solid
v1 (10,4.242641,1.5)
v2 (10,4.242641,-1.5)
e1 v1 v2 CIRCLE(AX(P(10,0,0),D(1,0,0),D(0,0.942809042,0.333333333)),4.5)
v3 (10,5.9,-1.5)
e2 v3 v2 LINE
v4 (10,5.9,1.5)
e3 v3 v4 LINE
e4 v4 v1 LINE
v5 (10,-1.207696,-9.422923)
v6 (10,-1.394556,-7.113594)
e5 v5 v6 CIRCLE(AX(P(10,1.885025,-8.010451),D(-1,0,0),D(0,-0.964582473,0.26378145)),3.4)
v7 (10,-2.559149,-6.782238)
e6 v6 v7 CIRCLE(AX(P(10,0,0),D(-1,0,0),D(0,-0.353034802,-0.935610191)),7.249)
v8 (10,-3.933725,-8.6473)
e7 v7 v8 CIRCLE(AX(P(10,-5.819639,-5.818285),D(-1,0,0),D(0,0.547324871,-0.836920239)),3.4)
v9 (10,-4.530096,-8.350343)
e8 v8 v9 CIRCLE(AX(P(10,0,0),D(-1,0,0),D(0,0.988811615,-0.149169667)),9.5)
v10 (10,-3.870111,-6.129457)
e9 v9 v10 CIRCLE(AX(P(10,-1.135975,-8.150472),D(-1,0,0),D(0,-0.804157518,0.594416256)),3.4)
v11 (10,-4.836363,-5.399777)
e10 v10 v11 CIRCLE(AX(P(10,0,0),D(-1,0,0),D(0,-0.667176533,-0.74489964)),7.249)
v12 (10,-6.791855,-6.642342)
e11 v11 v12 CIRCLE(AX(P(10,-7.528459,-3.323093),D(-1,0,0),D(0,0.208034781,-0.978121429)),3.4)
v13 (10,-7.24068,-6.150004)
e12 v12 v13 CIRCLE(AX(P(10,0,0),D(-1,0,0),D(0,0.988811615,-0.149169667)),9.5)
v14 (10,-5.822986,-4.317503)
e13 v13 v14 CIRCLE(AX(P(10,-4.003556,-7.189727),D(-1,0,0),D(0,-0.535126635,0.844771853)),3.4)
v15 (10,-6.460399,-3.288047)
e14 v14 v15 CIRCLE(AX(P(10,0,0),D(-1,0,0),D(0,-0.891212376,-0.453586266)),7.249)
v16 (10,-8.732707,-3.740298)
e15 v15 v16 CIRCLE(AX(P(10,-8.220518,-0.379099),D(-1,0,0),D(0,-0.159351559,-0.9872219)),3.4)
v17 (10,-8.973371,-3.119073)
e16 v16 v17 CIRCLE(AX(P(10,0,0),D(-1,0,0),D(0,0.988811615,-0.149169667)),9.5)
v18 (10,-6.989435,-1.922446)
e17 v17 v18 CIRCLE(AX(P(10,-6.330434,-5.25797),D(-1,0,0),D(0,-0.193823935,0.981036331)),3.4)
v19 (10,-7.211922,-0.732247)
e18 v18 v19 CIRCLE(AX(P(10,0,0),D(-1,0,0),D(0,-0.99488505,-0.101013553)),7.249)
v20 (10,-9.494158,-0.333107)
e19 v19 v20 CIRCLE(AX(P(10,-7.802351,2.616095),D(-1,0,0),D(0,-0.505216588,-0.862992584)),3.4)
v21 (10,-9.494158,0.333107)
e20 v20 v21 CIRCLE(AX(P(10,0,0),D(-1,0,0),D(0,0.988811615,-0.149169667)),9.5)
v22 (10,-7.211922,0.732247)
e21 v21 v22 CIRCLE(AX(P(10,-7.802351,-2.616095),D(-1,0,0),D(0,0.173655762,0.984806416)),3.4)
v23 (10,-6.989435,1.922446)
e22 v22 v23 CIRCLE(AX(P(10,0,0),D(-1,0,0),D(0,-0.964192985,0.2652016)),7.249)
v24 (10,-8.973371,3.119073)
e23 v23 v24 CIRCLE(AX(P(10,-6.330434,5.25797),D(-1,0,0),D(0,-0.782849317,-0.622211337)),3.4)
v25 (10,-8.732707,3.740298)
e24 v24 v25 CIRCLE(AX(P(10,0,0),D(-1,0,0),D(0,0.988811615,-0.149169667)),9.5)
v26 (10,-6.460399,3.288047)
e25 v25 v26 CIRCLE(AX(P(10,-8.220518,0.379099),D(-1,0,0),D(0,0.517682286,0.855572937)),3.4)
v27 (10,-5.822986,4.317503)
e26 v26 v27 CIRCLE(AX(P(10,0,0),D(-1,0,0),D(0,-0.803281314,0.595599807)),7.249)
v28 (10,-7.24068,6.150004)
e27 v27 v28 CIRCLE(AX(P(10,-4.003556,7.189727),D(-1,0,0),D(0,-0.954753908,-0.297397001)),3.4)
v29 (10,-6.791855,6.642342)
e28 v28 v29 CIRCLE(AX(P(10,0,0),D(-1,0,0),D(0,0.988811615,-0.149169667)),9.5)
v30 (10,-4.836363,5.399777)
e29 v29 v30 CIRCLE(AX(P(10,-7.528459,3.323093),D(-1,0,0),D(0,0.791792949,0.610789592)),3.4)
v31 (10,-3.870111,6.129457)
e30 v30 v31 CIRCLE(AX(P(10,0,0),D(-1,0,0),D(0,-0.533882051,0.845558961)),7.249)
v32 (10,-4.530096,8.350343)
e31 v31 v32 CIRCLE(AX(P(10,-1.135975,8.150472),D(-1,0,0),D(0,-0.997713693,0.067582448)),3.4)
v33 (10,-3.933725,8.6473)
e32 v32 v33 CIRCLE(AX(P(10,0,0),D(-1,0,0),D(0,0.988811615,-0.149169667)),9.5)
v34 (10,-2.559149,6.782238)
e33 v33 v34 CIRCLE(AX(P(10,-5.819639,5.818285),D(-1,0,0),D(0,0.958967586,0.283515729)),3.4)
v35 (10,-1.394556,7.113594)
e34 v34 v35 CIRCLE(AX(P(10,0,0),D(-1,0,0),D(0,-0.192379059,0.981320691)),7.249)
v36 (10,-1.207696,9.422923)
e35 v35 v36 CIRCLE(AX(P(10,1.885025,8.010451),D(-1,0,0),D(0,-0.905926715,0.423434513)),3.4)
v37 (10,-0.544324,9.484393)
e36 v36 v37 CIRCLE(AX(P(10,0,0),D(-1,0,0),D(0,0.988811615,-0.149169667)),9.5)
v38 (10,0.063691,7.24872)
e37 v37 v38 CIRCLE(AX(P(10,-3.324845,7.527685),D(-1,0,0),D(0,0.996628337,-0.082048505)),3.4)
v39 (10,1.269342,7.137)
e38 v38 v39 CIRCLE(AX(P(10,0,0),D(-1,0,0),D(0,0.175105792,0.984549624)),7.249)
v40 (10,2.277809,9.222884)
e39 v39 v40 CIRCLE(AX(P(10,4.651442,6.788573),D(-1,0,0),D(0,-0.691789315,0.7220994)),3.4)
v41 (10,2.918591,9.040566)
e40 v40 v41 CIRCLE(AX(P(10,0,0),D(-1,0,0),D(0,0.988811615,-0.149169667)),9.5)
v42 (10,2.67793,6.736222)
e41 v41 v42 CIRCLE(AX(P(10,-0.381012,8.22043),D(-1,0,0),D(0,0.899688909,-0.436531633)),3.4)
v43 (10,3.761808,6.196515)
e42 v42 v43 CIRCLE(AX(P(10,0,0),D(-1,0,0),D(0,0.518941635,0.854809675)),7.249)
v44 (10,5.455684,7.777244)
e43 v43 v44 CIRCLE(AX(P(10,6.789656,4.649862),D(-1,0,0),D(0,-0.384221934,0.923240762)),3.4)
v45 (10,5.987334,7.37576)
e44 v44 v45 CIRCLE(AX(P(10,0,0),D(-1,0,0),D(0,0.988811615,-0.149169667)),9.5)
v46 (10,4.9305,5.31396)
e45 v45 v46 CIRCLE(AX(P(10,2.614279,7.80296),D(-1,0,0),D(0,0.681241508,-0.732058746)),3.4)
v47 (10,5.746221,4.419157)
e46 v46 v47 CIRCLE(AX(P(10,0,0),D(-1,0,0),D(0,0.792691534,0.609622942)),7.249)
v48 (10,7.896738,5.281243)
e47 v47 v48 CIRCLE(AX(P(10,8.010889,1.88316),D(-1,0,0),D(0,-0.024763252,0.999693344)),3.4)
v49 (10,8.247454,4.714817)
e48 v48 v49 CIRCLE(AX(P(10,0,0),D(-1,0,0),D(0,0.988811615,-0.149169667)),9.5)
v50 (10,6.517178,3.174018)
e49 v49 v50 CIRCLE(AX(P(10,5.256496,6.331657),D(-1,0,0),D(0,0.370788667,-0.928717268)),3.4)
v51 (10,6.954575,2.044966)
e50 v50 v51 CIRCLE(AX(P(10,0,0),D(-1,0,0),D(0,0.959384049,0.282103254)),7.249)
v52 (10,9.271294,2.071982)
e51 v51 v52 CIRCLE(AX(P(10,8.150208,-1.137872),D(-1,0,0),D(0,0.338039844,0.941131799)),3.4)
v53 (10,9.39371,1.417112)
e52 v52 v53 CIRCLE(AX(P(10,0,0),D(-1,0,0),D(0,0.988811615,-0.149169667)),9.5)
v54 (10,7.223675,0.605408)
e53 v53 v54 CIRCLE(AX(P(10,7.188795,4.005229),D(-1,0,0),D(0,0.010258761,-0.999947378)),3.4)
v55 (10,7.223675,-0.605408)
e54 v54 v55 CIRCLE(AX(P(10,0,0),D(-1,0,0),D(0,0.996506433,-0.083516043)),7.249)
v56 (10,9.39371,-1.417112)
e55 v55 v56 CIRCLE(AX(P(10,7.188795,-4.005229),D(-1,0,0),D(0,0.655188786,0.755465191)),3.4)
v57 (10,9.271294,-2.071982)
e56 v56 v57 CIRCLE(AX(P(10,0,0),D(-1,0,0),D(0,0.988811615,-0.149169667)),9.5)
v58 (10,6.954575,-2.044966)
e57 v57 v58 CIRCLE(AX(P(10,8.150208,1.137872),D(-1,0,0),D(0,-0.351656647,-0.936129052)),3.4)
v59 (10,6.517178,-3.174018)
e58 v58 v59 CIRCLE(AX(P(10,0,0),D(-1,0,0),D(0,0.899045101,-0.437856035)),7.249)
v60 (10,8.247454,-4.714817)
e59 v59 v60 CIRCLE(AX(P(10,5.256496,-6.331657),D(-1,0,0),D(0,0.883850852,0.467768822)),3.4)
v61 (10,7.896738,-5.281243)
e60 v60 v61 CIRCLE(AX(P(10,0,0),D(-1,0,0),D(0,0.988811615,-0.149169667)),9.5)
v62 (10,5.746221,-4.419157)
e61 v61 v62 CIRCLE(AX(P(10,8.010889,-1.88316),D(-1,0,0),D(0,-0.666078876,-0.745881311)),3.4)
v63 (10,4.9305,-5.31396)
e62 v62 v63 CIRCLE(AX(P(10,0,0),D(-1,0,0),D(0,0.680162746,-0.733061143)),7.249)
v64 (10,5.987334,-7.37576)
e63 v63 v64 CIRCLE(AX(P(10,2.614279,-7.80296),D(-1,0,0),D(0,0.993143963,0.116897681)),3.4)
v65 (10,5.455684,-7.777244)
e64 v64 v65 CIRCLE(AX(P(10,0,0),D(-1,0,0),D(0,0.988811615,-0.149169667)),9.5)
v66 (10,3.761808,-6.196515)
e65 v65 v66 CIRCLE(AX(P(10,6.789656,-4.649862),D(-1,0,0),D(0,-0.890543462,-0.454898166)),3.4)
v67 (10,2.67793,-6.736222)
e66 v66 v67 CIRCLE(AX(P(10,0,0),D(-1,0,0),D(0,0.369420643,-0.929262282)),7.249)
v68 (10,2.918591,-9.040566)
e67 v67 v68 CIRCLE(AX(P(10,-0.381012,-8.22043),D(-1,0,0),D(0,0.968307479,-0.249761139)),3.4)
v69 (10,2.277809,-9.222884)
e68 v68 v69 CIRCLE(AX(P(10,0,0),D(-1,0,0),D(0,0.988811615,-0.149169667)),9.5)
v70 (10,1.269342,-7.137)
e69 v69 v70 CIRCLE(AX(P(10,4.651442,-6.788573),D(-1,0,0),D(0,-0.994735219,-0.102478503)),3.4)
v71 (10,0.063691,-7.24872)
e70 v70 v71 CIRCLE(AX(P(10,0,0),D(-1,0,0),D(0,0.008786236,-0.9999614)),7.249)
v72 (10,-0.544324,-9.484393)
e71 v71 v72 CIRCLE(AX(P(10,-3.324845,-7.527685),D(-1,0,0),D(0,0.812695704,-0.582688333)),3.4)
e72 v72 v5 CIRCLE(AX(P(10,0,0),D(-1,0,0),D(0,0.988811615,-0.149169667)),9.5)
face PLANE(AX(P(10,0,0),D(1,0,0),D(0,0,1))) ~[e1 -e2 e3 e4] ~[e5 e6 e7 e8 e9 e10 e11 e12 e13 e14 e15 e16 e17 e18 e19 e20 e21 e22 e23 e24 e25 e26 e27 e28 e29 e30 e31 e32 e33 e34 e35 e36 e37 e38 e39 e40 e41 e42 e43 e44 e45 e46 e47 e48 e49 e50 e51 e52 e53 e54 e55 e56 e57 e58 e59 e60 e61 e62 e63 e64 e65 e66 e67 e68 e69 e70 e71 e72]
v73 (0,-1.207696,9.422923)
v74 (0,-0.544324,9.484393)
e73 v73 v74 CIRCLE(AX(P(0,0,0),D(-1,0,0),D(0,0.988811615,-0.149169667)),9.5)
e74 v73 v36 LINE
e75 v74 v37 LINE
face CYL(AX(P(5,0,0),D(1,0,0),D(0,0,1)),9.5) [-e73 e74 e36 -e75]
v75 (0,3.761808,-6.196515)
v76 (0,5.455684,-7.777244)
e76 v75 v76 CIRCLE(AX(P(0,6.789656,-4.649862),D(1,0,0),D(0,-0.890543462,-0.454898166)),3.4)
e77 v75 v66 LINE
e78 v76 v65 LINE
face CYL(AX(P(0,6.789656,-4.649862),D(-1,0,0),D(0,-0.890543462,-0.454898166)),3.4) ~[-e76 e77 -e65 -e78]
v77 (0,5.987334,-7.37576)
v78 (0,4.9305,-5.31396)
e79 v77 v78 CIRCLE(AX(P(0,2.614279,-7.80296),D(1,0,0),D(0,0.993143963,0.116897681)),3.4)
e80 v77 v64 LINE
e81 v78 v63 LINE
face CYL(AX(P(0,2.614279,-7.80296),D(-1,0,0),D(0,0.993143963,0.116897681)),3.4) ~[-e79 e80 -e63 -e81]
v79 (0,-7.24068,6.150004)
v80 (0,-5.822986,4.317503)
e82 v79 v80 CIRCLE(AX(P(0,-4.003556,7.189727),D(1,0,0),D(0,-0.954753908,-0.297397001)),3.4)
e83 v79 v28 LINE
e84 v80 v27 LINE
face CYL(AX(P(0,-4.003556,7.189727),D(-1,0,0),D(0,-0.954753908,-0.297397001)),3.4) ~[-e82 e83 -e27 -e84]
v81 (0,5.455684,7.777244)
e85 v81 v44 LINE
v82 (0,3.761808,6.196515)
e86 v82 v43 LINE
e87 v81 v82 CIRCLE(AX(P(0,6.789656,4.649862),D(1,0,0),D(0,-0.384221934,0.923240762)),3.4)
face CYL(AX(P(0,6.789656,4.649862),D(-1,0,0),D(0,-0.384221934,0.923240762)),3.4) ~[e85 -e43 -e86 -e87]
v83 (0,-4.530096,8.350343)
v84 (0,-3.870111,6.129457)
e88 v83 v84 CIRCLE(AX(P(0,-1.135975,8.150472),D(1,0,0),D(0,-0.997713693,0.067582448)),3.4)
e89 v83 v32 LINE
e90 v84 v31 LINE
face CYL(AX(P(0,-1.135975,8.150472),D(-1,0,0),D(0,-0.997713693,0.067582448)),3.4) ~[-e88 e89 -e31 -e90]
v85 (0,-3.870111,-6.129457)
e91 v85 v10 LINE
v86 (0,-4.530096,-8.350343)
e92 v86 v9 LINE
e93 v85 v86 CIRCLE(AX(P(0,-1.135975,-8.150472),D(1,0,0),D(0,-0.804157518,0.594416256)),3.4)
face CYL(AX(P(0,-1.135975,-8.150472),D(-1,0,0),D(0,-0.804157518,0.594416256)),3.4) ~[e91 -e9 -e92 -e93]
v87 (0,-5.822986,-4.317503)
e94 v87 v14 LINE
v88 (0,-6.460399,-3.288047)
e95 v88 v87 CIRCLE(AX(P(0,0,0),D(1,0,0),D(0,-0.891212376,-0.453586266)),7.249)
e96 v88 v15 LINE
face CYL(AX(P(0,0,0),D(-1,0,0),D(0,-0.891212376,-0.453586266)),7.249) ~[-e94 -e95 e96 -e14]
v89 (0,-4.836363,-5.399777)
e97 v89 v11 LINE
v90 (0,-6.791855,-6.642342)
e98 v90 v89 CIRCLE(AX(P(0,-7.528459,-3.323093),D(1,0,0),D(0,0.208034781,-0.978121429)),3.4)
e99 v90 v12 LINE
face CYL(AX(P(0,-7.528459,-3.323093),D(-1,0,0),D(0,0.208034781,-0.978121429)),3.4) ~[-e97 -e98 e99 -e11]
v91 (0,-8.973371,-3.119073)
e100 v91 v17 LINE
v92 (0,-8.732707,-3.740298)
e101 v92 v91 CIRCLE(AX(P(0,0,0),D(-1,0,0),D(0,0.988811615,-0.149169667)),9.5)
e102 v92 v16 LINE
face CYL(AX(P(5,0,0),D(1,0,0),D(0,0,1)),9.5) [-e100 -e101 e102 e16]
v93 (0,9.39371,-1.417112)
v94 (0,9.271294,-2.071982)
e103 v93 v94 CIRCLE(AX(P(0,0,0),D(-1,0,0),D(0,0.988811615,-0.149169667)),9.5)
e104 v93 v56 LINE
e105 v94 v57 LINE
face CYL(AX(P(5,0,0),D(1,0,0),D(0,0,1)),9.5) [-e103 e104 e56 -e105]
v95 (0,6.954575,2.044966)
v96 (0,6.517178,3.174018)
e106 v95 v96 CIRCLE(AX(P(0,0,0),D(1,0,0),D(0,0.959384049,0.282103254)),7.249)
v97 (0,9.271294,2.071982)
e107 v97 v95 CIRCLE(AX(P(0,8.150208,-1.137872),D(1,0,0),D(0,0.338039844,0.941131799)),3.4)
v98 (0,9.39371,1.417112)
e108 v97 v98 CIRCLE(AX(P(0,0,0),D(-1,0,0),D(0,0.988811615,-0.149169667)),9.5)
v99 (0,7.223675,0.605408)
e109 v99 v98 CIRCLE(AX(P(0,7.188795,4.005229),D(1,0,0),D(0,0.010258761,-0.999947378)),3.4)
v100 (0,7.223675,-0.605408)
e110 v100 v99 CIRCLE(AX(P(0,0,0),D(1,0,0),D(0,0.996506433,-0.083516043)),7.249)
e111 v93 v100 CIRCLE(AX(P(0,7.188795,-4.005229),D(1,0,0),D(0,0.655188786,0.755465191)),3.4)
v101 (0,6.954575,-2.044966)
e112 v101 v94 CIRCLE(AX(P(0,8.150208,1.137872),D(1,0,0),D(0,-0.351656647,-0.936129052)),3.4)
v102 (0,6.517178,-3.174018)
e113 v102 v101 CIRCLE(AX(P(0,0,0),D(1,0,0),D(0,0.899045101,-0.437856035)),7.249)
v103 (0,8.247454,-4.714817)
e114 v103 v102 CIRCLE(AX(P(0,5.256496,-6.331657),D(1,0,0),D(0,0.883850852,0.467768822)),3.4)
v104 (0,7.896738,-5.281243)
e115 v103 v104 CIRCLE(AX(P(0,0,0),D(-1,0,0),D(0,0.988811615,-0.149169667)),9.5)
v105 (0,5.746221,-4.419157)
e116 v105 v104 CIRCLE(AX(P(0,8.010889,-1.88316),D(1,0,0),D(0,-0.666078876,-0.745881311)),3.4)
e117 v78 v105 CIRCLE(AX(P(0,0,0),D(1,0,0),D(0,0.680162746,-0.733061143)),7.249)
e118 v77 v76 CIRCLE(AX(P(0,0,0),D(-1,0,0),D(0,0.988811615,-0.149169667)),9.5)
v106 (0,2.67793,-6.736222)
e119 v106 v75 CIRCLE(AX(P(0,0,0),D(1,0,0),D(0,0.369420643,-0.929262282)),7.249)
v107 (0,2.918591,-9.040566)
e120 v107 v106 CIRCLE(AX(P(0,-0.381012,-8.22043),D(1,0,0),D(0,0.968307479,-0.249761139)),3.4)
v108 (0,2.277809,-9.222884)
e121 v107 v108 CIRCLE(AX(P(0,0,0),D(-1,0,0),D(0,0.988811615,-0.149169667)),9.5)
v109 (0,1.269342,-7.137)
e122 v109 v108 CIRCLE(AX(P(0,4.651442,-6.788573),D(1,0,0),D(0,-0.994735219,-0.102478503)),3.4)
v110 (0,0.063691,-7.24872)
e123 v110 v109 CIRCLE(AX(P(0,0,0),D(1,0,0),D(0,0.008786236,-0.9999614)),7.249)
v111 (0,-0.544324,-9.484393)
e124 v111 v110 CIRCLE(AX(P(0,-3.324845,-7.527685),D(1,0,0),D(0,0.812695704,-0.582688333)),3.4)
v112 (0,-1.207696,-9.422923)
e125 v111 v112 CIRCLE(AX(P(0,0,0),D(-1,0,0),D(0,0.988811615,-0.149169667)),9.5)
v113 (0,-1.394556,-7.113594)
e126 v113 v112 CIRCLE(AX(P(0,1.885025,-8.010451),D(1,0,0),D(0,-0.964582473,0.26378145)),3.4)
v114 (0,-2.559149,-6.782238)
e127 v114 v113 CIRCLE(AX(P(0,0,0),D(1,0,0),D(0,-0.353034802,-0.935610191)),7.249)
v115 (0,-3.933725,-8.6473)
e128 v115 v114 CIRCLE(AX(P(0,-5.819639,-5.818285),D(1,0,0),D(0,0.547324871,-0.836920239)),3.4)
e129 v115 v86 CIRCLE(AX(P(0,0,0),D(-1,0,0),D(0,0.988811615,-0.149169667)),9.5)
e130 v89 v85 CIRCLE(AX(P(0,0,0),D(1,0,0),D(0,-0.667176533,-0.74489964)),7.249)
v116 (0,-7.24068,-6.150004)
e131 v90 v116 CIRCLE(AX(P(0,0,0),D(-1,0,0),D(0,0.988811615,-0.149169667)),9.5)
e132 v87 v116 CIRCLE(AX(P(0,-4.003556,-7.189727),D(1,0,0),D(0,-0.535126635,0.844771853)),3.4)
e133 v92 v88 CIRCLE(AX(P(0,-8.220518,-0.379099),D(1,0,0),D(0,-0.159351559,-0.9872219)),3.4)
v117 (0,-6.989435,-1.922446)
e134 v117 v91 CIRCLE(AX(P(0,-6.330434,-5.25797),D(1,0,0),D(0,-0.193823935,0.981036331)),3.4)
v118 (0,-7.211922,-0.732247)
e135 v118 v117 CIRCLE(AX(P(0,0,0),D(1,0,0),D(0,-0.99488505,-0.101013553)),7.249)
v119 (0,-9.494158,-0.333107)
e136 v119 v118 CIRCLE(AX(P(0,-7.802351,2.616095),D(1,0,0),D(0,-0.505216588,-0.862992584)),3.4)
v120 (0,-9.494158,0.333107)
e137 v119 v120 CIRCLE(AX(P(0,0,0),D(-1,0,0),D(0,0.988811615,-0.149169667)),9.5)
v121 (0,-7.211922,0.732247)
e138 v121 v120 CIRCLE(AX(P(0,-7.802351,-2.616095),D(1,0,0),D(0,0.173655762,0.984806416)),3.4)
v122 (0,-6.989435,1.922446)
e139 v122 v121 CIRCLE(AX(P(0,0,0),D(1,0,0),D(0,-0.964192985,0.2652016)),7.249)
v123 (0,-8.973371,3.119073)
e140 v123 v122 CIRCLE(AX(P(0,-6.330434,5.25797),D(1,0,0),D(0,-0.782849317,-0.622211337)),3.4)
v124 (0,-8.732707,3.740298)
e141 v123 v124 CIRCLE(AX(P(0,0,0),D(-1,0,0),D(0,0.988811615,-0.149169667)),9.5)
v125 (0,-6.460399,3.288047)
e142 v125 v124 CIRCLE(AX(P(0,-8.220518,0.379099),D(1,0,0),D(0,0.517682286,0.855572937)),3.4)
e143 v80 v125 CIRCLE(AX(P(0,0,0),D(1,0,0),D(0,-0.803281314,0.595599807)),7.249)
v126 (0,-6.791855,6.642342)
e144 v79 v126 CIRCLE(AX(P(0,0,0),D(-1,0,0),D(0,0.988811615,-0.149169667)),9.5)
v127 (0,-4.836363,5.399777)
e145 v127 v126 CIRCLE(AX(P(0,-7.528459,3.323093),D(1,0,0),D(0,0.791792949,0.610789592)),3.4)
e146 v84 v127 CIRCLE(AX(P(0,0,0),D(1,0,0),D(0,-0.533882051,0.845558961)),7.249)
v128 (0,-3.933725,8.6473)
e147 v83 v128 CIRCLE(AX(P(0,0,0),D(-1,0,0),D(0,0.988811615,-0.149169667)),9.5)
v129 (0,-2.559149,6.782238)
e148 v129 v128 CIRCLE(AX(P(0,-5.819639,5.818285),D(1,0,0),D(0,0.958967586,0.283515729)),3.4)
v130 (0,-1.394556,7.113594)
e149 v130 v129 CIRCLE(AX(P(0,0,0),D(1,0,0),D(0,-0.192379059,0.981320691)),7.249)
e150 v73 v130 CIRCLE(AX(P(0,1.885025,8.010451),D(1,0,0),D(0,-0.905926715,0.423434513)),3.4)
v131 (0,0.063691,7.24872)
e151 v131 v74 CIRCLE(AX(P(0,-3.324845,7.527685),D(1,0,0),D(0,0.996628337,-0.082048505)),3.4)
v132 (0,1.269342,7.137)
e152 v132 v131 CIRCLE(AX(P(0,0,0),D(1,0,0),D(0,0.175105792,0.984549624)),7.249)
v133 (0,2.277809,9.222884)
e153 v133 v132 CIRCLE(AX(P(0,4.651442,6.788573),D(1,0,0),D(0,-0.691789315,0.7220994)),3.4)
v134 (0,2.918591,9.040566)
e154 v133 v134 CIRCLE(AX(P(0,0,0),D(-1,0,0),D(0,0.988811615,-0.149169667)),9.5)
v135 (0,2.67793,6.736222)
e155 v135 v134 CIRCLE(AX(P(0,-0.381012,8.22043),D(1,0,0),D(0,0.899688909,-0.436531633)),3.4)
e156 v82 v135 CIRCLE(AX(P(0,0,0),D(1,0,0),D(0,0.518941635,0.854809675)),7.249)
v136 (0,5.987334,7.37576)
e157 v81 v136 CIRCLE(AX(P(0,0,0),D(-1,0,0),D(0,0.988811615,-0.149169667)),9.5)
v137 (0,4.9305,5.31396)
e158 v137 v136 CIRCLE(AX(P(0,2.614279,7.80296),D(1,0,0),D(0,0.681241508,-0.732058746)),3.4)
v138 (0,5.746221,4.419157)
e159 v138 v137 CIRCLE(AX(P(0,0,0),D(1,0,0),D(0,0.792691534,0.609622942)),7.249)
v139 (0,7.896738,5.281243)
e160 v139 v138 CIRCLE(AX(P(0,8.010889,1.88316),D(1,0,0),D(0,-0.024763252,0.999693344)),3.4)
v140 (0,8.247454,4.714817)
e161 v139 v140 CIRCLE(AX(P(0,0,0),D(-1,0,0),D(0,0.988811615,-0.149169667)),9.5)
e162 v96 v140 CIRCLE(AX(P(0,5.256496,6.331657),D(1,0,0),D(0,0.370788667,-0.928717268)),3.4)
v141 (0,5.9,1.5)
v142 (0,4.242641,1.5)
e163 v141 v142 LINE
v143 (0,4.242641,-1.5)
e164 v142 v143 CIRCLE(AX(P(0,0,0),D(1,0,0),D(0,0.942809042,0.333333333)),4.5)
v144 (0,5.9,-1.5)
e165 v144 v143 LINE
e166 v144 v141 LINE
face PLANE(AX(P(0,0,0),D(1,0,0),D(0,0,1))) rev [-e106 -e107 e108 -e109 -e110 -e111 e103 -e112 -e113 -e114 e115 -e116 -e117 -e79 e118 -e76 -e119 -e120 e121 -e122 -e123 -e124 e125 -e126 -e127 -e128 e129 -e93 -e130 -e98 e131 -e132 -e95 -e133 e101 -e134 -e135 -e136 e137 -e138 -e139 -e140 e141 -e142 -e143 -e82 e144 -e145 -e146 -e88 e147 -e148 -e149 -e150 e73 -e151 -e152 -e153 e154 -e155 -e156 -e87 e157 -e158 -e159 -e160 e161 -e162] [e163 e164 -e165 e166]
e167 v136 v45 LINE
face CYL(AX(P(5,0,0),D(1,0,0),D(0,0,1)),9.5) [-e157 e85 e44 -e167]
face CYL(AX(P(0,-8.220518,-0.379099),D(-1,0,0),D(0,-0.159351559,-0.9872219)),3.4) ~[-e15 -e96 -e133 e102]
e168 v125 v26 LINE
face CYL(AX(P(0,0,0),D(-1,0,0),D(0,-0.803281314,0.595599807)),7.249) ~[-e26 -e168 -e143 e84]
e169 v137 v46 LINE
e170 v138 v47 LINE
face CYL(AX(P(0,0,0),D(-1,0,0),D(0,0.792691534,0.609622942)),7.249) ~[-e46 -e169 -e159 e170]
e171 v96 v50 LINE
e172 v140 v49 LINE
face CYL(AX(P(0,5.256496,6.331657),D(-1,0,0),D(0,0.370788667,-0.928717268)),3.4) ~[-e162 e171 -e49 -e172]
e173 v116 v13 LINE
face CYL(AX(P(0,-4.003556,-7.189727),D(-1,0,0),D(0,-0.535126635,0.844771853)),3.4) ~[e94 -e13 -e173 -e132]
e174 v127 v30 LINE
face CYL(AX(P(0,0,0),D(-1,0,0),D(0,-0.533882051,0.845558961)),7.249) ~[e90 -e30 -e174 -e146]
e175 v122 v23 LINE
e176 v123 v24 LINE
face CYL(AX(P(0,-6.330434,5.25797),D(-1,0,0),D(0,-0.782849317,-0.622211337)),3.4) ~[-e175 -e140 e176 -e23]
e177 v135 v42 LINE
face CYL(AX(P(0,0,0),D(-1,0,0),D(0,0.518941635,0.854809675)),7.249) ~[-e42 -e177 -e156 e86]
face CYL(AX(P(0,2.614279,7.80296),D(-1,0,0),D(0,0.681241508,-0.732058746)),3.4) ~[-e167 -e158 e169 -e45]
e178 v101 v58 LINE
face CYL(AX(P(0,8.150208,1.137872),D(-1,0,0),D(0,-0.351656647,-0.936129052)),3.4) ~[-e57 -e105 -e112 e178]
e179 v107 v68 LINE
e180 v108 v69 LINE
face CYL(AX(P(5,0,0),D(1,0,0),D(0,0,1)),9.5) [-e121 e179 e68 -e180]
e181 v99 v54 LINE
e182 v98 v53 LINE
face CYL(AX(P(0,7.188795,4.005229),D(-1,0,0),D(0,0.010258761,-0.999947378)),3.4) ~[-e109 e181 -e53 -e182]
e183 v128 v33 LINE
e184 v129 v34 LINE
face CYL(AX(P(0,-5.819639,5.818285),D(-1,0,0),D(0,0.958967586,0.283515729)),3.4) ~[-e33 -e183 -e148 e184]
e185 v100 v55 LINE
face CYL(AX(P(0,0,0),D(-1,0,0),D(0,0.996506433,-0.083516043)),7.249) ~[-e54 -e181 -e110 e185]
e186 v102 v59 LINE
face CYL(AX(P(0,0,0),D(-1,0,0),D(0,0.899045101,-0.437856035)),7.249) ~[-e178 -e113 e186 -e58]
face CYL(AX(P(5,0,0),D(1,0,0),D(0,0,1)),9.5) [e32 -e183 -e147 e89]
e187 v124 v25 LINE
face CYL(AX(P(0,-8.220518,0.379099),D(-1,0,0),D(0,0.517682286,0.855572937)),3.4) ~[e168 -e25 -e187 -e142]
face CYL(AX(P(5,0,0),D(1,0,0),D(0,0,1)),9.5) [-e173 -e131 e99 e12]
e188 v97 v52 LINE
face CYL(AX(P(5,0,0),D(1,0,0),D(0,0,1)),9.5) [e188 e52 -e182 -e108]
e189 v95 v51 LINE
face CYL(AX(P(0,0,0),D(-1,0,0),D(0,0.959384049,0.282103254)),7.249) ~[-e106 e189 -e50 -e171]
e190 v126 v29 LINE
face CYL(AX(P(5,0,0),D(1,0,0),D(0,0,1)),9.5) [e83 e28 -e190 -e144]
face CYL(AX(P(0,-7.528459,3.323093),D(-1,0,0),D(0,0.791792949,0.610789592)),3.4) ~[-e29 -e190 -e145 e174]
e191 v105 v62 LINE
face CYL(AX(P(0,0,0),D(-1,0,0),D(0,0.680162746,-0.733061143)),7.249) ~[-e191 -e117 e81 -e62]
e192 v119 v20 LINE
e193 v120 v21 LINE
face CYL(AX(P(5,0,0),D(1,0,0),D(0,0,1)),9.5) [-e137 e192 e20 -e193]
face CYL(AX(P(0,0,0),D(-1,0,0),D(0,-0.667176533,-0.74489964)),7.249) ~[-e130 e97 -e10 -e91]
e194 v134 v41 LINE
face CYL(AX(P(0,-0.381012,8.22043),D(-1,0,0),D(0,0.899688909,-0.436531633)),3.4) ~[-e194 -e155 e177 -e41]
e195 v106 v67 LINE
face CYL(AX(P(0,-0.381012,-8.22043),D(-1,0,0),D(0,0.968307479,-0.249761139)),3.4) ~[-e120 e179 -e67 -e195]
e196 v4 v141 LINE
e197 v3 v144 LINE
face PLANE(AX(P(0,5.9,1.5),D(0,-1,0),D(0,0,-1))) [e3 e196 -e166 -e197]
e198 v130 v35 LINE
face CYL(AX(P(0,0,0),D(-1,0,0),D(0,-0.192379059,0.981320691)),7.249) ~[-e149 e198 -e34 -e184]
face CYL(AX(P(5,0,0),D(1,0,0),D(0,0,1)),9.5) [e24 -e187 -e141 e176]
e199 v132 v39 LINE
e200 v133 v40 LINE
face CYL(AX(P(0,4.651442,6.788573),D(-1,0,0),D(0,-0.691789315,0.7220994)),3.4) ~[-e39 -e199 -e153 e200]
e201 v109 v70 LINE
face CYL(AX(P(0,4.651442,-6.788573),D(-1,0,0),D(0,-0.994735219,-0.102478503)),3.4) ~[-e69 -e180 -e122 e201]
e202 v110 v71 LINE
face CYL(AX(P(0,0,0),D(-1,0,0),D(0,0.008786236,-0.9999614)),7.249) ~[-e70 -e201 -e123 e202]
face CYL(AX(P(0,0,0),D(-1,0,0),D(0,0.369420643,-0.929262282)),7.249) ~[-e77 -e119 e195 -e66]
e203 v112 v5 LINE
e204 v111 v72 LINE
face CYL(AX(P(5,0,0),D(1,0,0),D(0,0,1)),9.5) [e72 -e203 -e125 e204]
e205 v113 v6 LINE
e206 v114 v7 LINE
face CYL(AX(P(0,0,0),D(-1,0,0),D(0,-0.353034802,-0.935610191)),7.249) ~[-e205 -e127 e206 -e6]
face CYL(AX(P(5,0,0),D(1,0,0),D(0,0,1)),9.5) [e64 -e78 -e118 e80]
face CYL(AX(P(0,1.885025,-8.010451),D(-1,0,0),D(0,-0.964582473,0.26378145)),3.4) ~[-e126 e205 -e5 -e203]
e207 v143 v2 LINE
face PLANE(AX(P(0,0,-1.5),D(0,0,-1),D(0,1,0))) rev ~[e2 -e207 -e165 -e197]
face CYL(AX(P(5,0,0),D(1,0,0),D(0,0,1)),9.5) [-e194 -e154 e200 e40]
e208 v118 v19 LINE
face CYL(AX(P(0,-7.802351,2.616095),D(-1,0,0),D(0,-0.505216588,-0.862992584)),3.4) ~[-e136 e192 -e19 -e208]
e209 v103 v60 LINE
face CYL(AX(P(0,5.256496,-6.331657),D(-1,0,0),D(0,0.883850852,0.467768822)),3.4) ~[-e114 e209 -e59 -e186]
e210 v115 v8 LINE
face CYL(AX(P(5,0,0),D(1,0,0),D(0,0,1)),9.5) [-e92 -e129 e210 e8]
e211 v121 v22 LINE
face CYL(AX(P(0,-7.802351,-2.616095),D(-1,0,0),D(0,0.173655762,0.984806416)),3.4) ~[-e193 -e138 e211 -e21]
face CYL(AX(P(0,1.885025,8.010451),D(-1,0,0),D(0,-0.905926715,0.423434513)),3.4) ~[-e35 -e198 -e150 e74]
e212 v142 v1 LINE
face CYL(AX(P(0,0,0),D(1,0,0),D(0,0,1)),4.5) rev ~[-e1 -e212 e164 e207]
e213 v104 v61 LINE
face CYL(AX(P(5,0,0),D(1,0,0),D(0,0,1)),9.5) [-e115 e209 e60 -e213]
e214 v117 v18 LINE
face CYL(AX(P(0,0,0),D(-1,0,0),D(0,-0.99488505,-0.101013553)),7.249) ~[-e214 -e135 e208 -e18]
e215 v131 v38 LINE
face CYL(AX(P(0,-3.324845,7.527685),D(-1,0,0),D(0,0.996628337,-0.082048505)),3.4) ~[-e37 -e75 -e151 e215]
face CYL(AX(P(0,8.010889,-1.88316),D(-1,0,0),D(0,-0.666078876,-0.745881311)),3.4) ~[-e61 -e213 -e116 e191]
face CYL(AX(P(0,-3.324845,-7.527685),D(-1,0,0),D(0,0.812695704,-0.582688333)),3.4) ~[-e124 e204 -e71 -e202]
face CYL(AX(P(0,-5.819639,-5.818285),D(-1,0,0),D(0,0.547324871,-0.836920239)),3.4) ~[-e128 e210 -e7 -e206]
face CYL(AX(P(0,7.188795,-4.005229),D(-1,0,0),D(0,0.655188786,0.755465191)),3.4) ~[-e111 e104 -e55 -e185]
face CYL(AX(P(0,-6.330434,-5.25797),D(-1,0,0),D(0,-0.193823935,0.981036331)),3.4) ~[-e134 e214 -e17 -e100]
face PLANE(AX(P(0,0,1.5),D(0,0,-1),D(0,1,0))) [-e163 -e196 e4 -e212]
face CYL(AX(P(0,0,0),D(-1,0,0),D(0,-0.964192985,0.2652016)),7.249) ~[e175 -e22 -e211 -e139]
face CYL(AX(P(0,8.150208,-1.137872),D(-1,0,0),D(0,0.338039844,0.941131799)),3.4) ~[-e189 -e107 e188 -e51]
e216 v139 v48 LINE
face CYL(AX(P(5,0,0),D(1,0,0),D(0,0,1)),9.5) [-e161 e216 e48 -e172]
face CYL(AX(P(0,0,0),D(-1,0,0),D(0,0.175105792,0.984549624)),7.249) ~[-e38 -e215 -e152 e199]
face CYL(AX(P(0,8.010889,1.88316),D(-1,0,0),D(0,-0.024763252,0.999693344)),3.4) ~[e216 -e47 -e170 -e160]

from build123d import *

# Parameters (mm, degrees)
BASPROSKE_W     = 10
BASPROSKE_H     = 9.5
TOOTHCUT_DEPTH  = 17.748134224
TEETHCUTS_COUNT = 17
TEETHCUTS_ANGLE = 338.823529412
BORSKE_R        = 4.5
BORE_DEPTH      = 50.0000508
KEYSKE_W        = 3
KEYSKE_H        = 5.9
KEYWAY_DEPTH    = 50.0000508


with BuildPart() as part:
    # BasProSke → Base-Revolve (revolve)
    with BuildSketch(Plane(origin=(0, 0, 0), x_dir=(1, 0, 0), z_dir=(0, 1, 0)), mode=Mode.PRIVATE) as base_revolve_sk:
        with Locations((5, 4.75)):
            Rectangle(BASPROSKE_W, BASPROSKE_H)
    revolve(base_revolve_sk.sketch.rotate(Axis((-10, 0, 0), (1, 0, 0)), 180), axis=Axis((-10, 0, 0), (1, 0, 0)))

    # TooCutSke → ToothCut (cut, through all)
    with BuildSketch(Plane(origin=(0, 0, 0), x_dir=(0, 0, -1), z_dir=(1, 0, 0))):
        with BuildLine():
            ThreePointArc((0.605407802, 7.223675131), (0, 7.249), (-0.605407802, 7.223675131))
            ThreePointArc((-0.605407802, 7.223675131), (-0.825997975, 8.393988613), (-1.436647238, 9.416437218))
            ThreePointArc((-1.436647238, 9.416437218), (0, 9.5254), (1.436647238, 9.416437218))
            ThreePointArc((1.436647238, 9.416437218), (0.825997975, 8.393988613), (0.605407802, 7.223675131))
        make_face()
    toothcut = extrude(amount=TOOTHCUT_DEPTH, mode=Mode.SUBTRACT)

    # TeethCuts: ToothCut ×17 about axis
    teethcuts_axis = Axis((-10, 0, 0), (1, 0, 0))
    for i in range(1, TEETHCUTS_COUNT):
        add(toothcut.rotate(teethcuts_axis, i * TEETHCUTS_ANGLE / (TEETHCUTS_COUNT - 1)), mode=Mode.SUBTRACT)

    # BorSke → Bore (cut, symmetric)
    with BuildSketch(Plane(origin=(0, 0, 0), x_dir=(0, 0, -1), z_dir=(1, 0, 0))):
        with Locations(Location((0, 0, 0), (0, 0, 180))):
            Circle(BORSKE_R)
    extrude(amount=BORE_DEPTH, both=True, mode=Mode.SUBTRACT)

    # KeySke → Keyway (cut, symmetric)
    with BuildSketch(Plane(origin=(0, 0, 0), x_dir=(0, 0, -1), z_dir=(1, 0, 0))):
        with Locations((0, 2.95)):
            Rectangle(KEYSKE_W, KEYSKE_H)
    extrude(amount=KEYWAY_DEPTH, both=True, mode=Mode.SUBTRACT)


solid = part.part
